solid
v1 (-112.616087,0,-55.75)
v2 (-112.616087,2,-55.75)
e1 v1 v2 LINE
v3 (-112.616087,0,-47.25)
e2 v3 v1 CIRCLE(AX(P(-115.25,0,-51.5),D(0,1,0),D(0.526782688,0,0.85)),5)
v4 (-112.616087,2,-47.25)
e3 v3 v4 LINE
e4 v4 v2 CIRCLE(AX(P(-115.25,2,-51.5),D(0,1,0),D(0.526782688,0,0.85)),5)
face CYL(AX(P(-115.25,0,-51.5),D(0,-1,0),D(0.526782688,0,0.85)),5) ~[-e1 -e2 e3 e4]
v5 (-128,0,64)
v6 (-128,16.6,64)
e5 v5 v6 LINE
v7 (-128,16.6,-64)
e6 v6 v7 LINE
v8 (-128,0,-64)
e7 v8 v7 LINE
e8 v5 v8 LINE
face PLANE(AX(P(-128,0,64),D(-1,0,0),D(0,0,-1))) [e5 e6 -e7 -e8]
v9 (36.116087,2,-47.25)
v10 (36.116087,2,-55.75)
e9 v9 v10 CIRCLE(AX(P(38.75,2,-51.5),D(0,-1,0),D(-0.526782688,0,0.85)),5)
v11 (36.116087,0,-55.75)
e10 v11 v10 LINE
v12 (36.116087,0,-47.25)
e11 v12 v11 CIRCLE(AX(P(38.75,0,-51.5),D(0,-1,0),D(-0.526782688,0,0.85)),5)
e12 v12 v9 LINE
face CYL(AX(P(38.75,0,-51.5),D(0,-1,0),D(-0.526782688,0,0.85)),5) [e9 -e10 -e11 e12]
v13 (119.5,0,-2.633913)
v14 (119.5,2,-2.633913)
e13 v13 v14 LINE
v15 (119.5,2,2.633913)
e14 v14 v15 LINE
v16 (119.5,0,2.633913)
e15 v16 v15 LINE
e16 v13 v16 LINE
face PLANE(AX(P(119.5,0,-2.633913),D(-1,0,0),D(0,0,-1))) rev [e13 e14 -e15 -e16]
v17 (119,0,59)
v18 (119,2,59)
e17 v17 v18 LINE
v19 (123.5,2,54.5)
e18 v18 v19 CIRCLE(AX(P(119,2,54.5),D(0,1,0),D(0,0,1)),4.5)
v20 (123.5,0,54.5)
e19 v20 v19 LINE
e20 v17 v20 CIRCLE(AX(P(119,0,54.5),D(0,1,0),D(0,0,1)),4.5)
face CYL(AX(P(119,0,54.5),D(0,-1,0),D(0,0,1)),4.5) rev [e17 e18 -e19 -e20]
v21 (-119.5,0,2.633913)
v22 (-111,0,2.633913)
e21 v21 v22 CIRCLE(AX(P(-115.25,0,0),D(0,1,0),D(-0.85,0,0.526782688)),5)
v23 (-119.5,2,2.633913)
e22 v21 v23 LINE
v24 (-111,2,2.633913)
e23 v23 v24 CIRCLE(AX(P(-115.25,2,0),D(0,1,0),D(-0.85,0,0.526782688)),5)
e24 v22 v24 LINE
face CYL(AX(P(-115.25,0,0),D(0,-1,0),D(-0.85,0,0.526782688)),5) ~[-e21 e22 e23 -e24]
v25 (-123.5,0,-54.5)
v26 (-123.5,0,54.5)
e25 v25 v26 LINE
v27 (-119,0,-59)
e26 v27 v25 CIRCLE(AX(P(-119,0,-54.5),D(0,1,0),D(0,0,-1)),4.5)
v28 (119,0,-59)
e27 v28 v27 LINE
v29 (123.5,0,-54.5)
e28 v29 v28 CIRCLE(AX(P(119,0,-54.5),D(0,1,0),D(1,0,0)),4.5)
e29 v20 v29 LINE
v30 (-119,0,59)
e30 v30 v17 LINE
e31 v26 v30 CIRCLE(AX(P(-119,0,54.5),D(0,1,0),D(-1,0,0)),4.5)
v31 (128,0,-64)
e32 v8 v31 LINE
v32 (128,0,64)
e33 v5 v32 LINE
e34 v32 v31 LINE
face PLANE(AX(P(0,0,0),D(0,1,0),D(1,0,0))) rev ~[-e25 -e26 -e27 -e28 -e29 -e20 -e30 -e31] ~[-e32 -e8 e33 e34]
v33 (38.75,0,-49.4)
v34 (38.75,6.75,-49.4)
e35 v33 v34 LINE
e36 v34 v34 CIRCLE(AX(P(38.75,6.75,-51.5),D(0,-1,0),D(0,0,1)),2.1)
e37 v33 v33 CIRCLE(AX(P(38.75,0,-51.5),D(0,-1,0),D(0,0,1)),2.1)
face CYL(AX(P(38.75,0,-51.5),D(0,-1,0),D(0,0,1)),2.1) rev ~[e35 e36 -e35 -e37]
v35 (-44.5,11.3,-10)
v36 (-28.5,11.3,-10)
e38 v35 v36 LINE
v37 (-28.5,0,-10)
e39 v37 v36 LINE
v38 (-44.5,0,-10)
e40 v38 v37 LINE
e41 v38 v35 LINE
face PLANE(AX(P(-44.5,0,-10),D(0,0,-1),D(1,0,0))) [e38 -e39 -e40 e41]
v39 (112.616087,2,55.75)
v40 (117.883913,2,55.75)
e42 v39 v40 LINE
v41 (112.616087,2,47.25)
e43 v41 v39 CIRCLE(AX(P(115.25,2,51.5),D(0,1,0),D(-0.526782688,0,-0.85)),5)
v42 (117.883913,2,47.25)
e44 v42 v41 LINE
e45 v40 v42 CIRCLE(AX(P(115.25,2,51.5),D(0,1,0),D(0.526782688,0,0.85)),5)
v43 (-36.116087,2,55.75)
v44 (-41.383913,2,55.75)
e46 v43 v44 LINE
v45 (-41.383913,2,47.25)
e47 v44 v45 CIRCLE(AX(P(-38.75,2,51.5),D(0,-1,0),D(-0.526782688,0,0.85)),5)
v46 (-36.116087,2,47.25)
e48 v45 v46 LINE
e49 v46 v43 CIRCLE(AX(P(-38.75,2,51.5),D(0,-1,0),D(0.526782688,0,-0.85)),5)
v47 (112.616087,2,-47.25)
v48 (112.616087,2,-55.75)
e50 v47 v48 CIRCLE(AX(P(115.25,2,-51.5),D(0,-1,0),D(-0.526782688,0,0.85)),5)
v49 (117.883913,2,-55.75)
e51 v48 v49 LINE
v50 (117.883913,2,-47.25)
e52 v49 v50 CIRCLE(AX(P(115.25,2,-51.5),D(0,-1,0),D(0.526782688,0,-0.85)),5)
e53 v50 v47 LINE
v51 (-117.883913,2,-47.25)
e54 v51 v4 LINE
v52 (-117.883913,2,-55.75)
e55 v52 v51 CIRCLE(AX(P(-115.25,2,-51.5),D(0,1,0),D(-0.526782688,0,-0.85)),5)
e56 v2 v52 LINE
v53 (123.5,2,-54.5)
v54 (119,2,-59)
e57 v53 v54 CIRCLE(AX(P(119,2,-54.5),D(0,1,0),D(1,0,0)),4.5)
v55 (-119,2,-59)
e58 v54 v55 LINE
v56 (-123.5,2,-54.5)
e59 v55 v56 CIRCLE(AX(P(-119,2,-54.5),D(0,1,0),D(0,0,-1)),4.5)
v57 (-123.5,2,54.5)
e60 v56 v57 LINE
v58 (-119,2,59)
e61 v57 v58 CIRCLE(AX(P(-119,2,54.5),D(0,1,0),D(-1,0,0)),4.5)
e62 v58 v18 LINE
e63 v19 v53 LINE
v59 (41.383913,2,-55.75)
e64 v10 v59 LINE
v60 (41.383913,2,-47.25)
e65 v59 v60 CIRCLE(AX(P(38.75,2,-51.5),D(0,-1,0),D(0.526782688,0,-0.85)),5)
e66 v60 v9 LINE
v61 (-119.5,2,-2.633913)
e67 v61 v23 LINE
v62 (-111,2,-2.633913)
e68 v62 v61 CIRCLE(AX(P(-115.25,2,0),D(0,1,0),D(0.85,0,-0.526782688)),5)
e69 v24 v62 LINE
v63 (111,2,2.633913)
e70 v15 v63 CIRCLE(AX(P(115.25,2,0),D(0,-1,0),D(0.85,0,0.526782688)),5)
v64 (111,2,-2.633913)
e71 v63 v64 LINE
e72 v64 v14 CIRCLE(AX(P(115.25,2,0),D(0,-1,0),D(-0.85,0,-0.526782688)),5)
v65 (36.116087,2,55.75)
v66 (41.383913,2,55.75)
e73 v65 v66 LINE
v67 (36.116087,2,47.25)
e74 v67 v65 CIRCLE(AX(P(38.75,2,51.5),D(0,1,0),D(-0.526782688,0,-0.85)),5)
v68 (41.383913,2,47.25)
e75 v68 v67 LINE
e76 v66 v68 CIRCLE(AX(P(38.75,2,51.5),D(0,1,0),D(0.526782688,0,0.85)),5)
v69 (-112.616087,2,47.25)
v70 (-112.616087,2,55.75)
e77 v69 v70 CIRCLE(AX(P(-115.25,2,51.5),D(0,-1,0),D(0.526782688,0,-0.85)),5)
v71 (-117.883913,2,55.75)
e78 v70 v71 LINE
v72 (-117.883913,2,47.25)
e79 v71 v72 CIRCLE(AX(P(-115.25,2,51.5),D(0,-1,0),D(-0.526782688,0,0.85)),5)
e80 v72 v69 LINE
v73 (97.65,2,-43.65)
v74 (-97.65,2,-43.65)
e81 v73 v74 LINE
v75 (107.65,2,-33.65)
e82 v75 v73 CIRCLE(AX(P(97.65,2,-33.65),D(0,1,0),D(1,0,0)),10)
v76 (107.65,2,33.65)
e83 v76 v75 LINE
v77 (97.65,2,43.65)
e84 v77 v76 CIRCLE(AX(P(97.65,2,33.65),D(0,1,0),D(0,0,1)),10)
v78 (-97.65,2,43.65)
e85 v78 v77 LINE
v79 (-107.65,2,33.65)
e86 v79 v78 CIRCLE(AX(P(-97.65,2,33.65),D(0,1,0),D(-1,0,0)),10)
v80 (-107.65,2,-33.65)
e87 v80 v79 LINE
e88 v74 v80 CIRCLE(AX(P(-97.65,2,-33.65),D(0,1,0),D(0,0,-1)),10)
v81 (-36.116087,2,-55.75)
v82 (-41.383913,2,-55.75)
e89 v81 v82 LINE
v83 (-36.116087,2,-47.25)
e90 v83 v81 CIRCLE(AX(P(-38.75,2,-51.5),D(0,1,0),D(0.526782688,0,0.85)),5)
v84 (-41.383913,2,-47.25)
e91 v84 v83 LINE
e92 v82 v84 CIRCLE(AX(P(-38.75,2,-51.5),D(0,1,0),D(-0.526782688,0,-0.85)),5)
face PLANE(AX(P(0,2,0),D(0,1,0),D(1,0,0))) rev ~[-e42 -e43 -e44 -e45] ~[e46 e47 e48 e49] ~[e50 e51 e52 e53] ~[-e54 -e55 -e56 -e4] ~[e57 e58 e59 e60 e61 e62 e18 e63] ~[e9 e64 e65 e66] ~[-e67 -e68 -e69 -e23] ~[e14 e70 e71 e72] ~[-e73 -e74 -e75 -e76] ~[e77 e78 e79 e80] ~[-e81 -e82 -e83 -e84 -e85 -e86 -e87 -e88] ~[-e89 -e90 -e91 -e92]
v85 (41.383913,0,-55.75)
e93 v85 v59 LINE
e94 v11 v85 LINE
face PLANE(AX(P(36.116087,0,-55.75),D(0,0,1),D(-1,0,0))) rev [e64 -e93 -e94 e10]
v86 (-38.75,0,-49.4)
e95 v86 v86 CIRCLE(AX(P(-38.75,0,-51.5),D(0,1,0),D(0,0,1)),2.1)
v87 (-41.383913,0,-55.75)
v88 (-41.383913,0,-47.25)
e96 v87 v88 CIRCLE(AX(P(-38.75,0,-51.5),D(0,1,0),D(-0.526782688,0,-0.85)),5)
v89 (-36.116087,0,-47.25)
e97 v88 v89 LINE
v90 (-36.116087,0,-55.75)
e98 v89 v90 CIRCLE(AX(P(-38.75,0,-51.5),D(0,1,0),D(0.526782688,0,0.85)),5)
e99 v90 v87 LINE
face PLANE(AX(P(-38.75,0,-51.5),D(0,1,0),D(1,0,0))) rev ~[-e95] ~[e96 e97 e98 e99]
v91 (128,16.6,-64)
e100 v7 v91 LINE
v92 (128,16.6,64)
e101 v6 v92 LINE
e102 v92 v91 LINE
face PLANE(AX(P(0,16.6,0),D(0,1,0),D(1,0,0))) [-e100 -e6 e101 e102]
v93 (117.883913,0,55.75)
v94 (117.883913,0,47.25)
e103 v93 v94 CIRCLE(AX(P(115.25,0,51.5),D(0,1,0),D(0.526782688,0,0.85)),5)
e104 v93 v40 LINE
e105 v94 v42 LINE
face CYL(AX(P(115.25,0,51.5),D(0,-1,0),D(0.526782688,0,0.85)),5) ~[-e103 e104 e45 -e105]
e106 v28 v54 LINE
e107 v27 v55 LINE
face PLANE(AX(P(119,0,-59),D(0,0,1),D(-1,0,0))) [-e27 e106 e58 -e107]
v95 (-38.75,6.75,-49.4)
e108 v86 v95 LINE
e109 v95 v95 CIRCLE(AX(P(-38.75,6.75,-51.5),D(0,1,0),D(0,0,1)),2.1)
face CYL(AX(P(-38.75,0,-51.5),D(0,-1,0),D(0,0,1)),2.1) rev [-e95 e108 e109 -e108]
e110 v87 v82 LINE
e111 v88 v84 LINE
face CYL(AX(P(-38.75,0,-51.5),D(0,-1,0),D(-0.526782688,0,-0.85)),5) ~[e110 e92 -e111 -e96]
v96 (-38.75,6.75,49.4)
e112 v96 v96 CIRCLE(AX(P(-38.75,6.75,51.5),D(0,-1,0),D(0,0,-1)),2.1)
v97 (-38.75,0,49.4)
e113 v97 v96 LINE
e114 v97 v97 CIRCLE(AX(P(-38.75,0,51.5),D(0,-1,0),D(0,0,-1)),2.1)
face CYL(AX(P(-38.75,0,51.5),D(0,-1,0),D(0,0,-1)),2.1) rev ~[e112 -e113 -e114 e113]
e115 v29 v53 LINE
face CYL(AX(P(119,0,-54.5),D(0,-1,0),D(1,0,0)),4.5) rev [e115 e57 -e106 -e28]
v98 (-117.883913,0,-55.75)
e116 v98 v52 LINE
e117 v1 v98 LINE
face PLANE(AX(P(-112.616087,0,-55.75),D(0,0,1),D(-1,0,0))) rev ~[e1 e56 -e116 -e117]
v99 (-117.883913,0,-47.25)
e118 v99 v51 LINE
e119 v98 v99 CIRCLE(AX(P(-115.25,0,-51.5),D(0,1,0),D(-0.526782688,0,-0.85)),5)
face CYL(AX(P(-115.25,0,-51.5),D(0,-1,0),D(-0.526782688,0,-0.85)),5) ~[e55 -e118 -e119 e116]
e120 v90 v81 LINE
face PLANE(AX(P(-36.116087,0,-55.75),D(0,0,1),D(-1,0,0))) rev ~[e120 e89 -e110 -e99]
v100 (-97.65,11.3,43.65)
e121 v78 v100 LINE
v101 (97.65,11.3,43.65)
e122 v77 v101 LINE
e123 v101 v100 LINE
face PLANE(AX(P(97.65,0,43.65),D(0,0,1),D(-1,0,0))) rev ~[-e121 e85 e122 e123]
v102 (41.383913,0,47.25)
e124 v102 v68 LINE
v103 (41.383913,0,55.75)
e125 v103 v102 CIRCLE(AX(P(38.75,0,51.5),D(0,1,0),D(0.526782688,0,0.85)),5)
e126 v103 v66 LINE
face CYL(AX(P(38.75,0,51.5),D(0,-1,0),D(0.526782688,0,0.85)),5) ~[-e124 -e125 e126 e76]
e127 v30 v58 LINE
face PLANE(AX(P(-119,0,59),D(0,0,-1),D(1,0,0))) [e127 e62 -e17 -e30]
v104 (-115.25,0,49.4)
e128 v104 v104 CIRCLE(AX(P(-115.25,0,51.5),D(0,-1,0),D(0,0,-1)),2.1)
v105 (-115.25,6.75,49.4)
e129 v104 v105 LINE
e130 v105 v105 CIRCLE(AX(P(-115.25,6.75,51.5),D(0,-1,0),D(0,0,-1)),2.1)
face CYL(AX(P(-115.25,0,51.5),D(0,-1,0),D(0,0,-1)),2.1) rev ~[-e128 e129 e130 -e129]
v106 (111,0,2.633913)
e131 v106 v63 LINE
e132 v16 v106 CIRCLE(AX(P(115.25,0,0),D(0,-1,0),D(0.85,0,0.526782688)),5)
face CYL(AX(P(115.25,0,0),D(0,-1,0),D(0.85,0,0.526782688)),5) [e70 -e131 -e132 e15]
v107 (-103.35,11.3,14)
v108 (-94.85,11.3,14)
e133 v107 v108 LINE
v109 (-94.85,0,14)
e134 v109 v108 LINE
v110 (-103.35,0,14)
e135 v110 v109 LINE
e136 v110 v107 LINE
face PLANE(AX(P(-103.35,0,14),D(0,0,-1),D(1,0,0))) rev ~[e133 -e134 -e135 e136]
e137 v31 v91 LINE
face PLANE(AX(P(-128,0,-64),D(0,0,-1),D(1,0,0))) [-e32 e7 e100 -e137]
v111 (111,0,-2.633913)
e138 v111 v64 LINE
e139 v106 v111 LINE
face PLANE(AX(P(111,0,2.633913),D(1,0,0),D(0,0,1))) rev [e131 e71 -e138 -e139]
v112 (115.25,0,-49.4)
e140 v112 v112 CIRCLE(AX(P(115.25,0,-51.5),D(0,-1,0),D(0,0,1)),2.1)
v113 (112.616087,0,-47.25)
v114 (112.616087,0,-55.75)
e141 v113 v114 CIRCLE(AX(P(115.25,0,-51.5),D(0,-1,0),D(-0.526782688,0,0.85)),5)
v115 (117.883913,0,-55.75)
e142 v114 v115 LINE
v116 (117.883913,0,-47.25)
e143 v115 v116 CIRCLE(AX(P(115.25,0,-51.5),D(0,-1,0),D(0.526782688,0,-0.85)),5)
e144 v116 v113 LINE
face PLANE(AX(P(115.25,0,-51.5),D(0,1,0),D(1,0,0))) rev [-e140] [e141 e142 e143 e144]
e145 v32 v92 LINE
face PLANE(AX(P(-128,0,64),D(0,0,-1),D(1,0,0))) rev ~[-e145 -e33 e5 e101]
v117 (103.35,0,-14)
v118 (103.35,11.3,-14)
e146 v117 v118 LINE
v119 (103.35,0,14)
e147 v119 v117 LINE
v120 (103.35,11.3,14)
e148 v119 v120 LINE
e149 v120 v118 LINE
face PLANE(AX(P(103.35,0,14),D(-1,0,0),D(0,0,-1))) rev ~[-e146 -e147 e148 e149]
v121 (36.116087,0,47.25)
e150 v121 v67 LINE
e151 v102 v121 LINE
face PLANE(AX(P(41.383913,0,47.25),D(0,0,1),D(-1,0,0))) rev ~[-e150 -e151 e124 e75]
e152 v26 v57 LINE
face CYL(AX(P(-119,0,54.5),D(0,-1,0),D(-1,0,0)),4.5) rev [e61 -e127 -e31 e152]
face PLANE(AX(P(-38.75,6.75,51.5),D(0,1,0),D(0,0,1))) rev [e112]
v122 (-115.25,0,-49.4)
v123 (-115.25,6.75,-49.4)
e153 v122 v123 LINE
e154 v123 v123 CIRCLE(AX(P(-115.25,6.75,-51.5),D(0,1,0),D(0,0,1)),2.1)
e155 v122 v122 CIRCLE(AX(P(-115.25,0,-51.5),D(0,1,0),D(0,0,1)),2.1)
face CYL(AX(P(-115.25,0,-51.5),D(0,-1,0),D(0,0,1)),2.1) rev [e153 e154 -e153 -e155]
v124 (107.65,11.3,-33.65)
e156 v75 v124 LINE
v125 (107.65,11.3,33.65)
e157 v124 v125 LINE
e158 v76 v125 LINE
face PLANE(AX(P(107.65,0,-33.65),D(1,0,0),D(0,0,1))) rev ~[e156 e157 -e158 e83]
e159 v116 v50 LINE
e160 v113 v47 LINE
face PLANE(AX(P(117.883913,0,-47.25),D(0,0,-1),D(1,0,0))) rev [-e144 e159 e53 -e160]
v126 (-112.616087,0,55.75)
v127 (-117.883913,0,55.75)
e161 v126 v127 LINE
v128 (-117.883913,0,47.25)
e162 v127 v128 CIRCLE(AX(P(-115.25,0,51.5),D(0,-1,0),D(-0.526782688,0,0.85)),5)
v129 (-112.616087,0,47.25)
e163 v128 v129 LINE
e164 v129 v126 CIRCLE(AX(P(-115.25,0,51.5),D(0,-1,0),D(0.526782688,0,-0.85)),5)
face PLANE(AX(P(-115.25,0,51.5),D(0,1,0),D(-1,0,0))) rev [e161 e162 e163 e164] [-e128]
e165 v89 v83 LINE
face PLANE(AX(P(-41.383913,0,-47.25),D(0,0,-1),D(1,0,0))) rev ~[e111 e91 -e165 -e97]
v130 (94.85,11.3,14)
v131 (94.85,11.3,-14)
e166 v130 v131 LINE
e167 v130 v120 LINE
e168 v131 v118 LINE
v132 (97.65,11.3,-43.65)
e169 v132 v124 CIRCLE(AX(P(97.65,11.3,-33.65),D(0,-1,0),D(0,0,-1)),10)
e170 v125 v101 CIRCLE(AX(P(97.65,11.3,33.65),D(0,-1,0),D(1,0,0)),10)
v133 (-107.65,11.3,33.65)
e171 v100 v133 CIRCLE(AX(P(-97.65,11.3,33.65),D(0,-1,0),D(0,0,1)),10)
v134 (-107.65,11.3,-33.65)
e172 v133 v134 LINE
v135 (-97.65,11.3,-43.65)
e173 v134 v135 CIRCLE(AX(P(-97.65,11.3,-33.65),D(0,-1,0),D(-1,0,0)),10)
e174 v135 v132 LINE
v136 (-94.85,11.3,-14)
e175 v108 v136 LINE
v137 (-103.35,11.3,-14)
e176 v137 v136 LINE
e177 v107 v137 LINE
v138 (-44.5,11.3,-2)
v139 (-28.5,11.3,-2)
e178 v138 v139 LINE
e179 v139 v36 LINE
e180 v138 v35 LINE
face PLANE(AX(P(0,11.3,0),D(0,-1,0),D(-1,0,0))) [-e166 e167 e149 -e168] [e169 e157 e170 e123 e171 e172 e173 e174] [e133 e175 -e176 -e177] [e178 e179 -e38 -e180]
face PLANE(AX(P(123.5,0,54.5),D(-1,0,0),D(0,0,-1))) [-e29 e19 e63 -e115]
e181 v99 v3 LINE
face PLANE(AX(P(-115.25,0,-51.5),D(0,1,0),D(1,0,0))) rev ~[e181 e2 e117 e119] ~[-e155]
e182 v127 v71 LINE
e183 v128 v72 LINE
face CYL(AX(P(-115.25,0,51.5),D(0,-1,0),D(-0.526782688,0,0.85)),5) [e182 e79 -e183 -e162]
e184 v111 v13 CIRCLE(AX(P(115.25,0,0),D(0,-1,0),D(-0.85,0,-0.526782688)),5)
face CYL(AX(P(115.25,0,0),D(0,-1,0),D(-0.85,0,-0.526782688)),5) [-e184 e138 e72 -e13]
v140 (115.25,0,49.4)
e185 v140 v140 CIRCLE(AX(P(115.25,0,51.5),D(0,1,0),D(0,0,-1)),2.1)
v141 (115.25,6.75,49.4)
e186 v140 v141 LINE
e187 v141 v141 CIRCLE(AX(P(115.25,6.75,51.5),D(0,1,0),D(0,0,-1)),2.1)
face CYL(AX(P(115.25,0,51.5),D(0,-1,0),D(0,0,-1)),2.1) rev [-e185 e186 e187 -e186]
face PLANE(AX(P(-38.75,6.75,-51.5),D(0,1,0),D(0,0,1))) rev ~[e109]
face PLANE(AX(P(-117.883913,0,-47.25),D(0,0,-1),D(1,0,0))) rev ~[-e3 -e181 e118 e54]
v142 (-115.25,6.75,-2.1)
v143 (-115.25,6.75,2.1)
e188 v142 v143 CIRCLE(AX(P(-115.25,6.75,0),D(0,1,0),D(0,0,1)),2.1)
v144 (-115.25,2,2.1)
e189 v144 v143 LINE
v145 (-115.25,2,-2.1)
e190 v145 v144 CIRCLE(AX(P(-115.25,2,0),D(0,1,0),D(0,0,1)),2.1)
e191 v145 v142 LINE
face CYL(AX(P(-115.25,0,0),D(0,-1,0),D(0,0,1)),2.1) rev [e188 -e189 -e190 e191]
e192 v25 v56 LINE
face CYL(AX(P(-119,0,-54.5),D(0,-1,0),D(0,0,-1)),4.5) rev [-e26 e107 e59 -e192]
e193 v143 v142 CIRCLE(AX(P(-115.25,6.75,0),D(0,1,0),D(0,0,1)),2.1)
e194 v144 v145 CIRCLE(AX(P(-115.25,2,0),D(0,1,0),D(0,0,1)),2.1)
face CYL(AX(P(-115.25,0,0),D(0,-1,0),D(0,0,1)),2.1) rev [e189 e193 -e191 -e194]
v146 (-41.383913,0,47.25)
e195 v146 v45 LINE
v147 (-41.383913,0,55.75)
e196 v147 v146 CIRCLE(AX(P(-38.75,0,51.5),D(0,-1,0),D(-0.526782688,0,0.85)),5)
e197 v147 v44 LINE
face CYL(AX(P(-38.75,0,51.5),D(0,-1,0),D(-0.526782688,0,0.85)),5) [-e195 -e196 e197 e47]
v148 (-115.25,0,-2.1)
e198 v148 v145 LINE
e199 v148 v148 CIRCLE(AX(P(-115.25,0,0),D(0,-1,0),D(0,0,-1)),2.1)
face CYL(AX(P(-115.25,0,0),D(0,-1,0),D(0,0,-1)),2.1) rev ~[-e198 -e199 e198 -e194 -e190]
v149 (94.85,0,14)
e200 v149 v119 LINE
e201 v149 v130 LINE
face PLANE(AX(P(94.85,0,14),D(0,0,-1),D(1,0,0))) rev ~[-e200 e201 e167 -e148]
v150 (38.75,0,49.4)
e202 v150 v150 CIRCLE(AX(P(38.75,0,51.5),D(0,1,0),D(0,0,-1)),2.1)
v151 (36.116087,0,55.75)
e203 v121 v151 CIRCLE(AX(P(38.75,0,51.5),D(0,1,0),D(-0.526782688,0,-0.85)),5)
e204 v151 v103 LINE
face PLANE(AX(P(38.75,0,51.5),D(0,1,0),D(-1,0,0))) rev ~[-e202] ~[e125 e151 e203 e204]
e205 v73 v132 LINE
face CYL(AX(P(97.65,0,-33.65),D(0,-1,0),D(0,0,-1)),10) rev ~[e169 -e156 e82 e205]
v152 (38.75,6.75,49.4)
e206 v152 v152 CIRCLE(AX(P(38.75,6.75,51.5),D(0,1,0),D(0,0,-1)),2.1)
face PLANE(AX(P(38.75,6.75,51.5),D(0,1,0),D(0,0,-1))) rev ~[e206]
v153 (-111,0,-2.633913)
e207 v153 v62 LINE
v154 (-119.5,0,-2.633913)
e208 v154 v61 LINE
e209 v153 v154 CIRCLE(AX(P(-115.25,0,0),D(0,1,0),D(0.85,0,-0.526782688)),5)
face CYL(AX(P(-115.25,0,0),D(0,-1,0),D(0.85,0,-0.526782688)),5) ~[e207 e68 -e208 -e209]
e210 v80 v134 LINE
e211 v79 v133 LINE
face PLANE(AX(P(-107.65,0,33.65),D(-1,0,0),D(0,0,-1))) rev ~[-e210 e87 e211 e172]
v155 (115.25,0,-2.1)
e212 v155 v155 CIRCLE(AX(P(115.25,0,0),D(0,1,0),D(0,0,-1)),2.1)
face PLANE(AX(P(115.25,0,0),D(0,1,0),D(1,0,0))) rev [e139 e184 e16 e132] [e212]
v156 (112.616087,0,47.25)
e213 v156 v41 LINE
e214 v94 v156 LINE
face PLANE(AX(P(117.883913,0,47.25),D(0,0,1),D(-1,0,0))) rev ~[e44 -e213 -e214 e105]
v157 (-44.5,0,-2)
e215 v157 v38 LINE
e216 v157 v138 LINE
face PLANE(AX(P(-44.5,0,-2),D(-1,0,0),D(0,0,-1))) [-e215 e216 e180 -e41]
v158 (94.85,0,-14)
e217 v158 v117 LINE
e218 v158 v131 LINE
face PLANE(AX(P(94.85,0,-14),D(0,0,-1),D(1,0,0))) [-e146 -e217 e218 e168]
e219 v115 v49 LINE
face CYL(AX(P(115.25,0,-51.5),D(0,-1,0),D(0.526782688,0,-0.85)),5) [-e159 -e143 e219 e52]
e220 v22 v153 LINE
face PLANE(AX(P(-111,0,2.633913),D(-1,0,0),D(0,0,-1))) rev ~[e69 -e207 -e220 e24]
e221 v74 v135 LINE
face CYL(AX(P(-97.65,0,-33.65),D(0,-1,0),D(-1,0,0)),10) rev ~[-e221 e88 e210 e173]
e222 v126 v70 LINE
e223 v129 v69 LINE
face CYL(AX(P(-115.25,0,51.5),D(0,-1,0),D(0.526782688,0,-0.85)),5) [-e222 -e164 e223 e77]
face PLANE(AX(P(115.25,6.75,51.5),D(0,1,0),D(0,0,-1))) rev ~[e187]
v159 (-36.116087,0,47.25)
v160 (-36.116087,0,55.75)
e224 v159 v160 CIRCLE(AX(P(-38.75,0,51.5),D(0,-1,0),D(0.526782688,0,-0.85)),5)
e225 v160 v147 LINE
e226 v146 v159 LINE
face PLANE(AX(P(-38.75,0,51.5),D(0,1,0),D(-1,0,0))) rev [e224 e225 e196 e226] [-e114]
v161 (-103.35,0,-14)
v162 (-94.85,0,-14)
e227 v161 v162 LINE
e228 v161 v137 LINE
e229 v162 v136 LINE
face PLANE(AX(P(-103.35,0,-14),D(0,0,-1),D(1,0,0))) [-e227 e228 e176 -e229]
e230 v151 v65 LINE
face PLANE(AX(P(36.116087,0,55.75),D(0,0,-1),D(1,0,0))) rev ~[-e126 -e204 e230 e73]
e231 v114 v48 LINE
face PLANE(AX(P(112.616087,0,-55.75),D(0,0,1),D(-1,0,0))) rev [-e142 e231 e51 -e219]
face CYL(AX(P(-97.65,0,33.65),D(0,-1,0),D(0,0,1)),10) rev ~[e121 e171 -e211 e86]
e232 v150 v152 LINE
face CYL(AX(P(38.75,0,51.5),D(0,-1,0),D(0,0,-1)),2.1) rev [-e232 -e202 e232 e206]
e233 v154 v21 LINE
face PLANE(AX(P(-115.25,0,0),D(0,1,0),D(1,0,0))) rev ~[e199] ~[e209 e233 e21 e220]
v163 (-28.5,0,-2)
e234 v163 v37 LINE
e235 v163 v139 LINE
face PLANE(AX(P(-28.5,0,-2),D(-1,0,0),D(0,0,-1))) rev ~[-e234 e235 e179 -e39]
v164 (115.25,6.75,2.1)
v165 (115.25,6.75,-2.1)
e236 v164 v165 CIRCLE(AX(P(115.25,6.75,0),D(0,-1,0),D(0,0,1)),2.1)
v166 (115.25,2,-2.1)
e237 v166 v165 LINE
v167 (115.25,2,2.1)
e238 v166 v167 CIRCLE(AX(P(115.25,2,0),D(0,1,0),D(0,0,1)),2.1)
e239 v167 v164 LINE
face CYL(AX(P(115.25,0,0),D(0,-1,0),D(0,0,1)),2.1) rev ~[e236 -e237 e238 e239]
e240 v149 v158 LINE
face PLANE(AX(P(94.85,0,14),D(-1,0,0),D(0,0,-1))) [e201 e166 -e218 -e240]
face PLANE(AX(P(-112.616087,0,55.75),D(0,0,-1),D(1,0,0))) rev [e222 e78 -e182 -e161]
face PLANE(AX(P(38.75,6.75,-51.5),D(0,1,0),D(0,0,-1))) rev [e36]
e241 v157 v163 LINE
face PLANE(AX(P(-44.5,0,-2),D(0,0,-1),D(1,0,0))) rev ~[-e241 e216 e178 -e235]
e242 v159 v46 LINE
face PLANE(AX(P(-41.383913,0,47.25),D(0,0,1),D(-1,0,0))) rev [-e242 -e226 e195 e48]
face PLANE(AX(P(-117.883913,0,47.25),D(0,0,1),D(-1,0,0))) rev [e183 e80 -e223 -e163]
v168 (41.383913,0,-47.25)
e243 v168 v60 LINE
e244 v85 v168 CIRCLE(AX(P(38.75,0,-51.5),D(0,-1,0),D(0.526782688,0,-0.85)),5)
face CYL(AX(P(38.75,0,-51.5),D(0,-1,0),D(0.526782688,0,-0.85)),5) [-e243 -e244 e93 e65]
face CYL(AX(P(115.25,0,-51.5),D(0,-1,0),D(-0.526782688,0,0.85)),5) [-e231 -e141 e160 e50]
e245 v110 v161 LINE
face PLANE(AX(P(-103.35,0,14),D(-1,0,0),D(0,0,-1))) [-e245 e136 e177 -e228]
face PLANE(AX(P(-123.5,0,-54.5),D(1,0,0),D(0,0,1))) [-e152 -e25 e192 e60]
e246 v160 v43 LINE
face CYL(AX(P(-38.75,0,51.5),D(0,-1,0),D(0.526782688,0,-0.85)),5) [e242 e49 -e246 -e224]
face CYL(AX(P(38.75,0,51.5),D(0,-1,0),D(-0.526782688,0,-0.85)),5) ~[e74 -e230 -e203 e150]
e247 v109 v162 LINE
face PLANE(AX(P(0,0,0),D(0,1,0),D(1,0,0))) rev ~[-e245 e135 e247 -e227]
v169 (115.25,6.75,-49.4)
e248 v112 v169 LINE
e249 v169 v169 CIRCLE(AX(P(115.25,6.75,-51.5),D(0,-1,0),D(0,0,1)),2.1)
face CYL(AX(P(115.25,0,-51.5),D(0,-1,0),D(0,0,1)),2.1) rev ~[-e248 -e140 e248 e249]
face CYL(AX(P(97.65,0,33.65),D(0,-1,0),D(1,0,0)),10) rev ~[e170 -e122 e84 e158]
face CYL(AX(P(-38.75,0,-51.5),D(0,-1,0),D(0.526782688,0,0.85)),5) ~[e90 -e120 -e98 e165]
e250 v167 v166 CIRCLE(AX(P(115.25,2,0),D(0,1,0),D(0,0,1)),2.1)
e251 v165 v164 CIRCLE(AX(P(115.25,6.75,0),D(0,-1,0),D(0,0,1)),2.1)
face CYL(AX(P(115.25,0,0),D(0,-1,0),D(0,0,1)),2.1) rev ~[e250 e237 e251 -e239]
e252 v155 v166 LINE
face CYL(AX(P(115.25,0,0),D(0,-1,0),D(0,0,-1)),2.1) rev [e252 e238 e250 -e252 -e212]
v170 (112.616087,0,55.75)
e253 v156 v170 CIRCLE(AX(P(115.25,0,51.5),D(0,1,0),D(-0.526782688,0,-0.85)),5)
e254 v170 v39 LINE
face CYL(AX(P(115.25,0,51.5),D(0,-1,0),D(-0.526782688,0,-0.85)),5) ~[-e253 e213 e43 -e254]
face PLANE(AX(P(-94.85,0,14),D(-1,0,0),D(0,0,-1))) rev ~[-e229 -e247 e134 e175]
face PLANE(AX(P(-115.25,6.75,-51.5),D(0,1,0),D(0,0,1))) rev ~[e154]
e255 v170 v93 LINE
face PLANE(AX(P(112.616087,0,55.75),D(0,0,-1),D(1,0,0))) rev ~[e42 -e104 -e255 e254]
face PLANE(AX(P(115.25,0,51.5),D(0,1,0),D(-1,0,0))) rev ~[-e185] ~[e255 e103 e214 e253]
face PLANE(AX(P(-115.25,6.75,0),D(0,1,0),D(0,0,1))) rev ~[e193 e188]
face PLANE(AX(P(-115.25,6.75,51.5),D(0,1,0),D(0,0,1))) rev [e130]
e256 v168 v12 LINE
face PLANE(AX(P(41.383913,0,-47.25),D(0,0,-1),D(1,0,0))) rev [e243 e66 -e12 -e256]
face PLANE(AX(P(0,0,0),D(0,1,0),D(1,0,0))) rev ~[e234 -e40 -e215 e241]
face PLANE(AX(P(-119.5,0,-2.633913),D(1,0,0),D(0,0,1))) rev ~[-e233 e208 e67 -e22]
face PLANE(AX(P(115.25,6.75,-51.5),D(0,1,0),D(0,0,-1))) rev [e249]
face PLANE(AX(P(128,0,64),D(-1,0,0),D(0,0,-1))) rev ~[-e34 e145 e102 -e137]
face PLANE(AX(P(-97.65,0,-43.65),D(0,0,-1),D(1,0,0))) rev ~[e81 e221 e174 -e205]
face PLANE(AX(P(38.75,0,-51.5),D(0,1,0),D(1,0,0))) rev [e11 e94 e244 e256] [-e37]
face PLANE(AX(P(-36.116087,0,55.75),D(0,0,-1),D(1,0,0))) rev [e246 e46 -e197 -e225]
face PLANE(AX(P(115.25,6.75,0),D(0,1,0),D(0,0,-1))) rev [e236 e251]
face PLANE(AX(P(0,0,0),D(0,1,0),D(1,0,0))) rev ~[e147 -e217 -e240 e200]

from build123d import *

# Parameters (mm, degrees)
SKETCH1_W                                  = 256
SKETCH1_H                                  = 128
SKETCH1_W_2                                = 16
SKETCH1_H_2                                = 8
SKETCH1_W_3                                = 8.5
SKETCH1_H_3                                = 28
SKETCH1_R                                  = 2.1
BOSS_EXTRUDE1_DEPTH                        = 16.6
SKETCH1_3_W                                = 8.5
SKETCH1_3_H                                = 28
SKETCH1_3_W_2                              = 16
SKETCH1_3_H_2                              = 8
CUT_EXTRUDE1_DEPTH                         = 11.3
SKETCH1_4_R                                = 2.1
CUT_EXTRUDE2_DEPTH                         = 2
SKETCH1_5_R                                = 2.1
BOSS_EXTRUDE2_DEPTH                        = 2
SKETCH1_6_R                                = 2.1
CUT_EXTRUDE3_DEPTH                         = 6.75
MIRROR1_AT_THE_SECOND_PLANE_COPY_1_SKETC_R = 2.1
MIRROR1_AT_THE_SECOND_PLANE_COPY_1_DEPTH   = 2
MIRROR1_AT_THE_SECOND_PLANE_COPY_2_SKETC_R = 2.1
MIRROR1_AT_THE_SECOND_PLANE_COPY_2_DEPTH   = 6.75


with BuildPart() as part:
    # Sketch1 → Boss-Extrude1 (new body)
    # profile 1 of 12: a face of its own
    with BuildSketch(Plane(origin=(0, 0, 0), x_dir=(1, 0, 0), z_dir=(0, 1, 0))):
        Rectangle(SKETCH1_W, SKETCH1_H)
        with BuildLine():
            ThreePointArc((-119, 59), (-122.181980515, 57.681980515), (-123.5, 54.5))
            Line((-123.5, 54.5), (-123.5, -54.5))
            ThreePointArc((-123.5, -54.5), (-122.181980515, -57.681980515), (-119, -59))
            Line((-119, -59), (119, -59))
            ThreePointArc((119, -59), (122.181980515, -57.681980515), (123.5, -54.5))
            Line((123.5, -54.5), (123.5, 54.5))
            ThreePointArc((123.5, 54.5), (122.181980515, 57.681980515), (119, 59))
            Line((119, 59), (-119, 59))
        make_face(mode=Mode.SUBTRACT)
    # profile 2 of 12: a face of its own
    with BuildSketch(Plane(origin=(0, 0, 0), x_dir=(1, 0, 0), z_dir=(0, 1, 0))):
        with BuildLine():
            Line((119, 59), (-119, 59))
            ThreePointArc((-119, 59), (-122.181980515, 57.681980515), (-123.5, 54.5))
            Line((-123.5, 54.5), (-123.5, -54.5))
            ThreePointArc((-123.5, -54.5), (-122.181980515, -57.681980515), (-119, -59))
            Line((-119, -59), (119, -59))
            ThreePointArc((119, -59), (122.181980515, -57.681980515), (123.5, -54.5))
            Line((123.5, -54.5), (123.5, 54.5))
            ThreePointArc((123.5, 54.5), (122.181980515, 57.681980515), (119, 59))
        make_face()
        with BuildLine():
            ThreePointArc((-112.616086562, 47.25), (-110.25, 51.5), (-112.616086562, 55.75))
            Line((-112.616086562, 55.75), (-117.883913438, 55.75))
            ThreePointArc((-117.883913438, 55.75), (-120.25, 51.5), (-117.883913438, 47.25))
            Line((-117.883913438, 47.25), (-112.616086562, 47.25))
        make_face(mode=Mode.SUBTRACT)
        with BuildLine():
            ThreePointArc((-111, 2.633913438), (-115.25, 5), (-119.5, 2.633913438))
            Line((-119.5, 2.633913438), (-119.5, -2.633913438))
            ThreePointArc((-119.5, -2.633913438), (-115.25, -5), (-111, -2.633913438))
            Line((-111, -2.633913438), (-111, 2.633913438))
        make_face(mode=Mode.SUBTRACT)
        with BuildLine():
            ThreePointArc((-36.116086562, 47.25), (-33.75, 51.5), (-36.116086562, 55.75))
            Line((-36.116086562, 55.75), (-41.383913438, 55.75))
            ThreePointArc((-41.383913438, 55.75), (-43.75, 51.5), (-41.383913438, 47.25))
            Line((-41.383913438, 47.25), (-36.116086562, 47.25))
        make_face(mode=Mode.SUBTRACT)
        with BuildLine():
            ThreePointArc((-97.65, 43.65), (-104.721067812, 40.721067812), (-107.65, 33.65))
            Line((-107.65, 33.65), (-107.65, -33.65))
            ThreePointArc((-107.65, -33.65), (-104.721067812, -40.721067812), (-97.65, -43.65))
            Line((-97.65, -43.65), (97.65, -43.65))
            ThreePointArc((97.65, -43.65), (104.721067812, -40.721067812), (107.65, -33.65))
            Line((107.65, -33.65), (107.65, 33.65))
            ThreePointArc((107.65, 33.65), (104.721067812, 40.721067812), (97.65, 43.65))
            Line((97.65, 43.65), (-97.65, 43.65))
        make_face(mode=Mode.SUBTRACT)
    # profile 3 of 12: a face of its own
    with BuildSketch(Plane(origin=(0, 0, 0), x_dir=(1, 0, 0), z_dir=(0, 1, 0))):
        with BuildLine():
            Line((97.65, 43.65), (-97.65, 43.65))
            ThreePointArc((-97.65, 43.65), (-104.721067812, 40.721067812), (-107.65, 33.65))
            Line((-107.65, 33.65), (-107.65, -33.65))
            ThreePointArc((-107.65, -33.65), (-104.721067812, -40.721067812), (-97.65, -43.65))
            Line((-97.65, -43.65), (97.65, -43.65))
            ThreePointArc((97.65, -43.65), (104.721067812, -40.721067812), (107.65, -33.65))
            Line((107.65, -33.65), (107.65, 33.65))
            ThreePointArc((107.65, 33.65), (104.721067812, 40.721067812), (97.65, 43.65))
        make_face()
        with Locations((-36.5, 6)):
            Rectangle(SKETCH1_W_2, SKETCH1_H_2, mode=Mode.SUBTRACT)
        with Locations((-99.1, 0)):
            Rectangle(SKETCH1_W_3, SKETCH1_H_3, mode=Mode.SUBTRACT)
    # profile 4 of 12: a face of its own
    with BuildSketch(Plane(origin=(0, 0, 0), x_dir=(1, 0, 0), z_dir=(0, 1, 0))):
        with Locations((-99.1, 0)):
            Rectangle(SKETCH1_W_3, SKETCH1_H_3)
    # profile 5 of 12: a face of its own
    with BuildSketch(Plane(origin=(0, 0, 0), x_dir=(1, 0, 0), z_dir=(0, 1, 0))):
        with Locations((-36.5, 6)):
            Rectangle(SKETCH1_W_2, SKETCH1_H_2)
    # profile 6 of 12: a face of its own
    with BuildSketch(Plane(origin=(0, 0, 0), x_dir=(1, 0, 0), z_dir=(0, 1, 0))):
        with BuildLine():
            Line((-41.383913438, 47.25), (-36.116086562, 47.25))
            ThreePointArc((-36.116086562, 47.25), (-33.75, 51.5), (-36.116086562, 55.75))
            Line((-36.116086562, 55.75), (-41.383913438, 55.75))
            ThreePointArc((-41.383913438, 55.75), (-43.75, 51.5), (-41.383913438, 47.25))
        make_face()
        with Locations((-38.75, 51.5)):
            Circle(SKETCH1_R, mode=Mode.SUBTRACT)
    # profile 7 of 12: a face of its own
    with BuildSketch(Plane(origin=(0, 0, 0), x_dir=(1, 0, 0), z_dir=(0, 1, 0))):
        with Locations((-38.75, 51.5)):
            Circle(SKETCH1_R)
    # profile 8 of 12: a face of its own
    with BuildSketch(Plane(origin=(0, 0, 0), x_dir=(1, 0, 0), z_dir=(0, 1, 0))):
        with BuildLine():
            Line((-111, -2.633913438), (-111, 2.633913438))
            ThreePointArc((-111, 2.633913438), (-115.25, 5), (-119.5, 2.633913438))
            Line((-119.5, 2.633913438), (-119.5, -2.633913438))
            ThreePointArc((-119.5, -2.633913438), (-115.25, -5), (-111, -2.633913438))
        make_face()
        with Locations((-115.25, 0)):
            Circle(SKETCH1_R, mode=Mode.SUBTRACT)
    # profile 9 of 12: a face of its own
    with BuildSketch(Plane(origin=(0, 0, 0), x_dir=(1, 0, 0), z_dir=(0, 1, 0))):
        with Locations((-115.25, 0)):
            Circle(SKETCH1_R)
    # profile 10 of 12: a face of its own
    with BuildSketch(Plane(origin=(0, 0, 0), x_dir=(1, 0, 0), z_dir=(0, 1, 0))):
        with BuildLine():
            Line((-117.883913438, 47.25), (-112.616086562, 47.25))
            ThreePointArc((-112.616086562, 47.25), (-110.25, 51.5), (-112.616086562, 55.75))
            Line((-112.616086562, 55.75), (-117.883913438, 55.75))
            ThreePointArc((-117.883913438, 55.75), (-120.25, 51.5), (-117.883913438, 47.25))
        make_face()
        with Locations((-115.25, 51.5)):
            Circle(SKETCH1_R, mode=Mode.SUBTRACT)
    # profile 11 of 12: a face of its own
    with BuildSketch(Plane(origin=(0, 0, 0), x_dir=(1, 0, 0), z_dir=(0, 1, 0))):
        with Locations((-115.25, 51.5)):
            Circle(SKETCH1_R)
    # profile 12 of 12: a face of its own
    with BuildSketch(Plane(origin=(0, 0, 0), x_dir=(1, 0, 0), z_dir=(0, 1, 0))):
        with Locations((99.1, 0)):
            Rectangle(SKETCH1_W_3, SKETCH1_H_3)
    extrude(amount=BOSS_EXTRUDE1_DEPTH)

    # Sketch1<3> → Cut-Extrude1 (cut)
    with BuildSketch(Plane(origin=(0, 0, 0), x_dir=(1, 0, 0), z_dir=(0, 1, 0))):
        with BuildLine():
            Line((97.65, -43.65), (-97.65, -43.65))
            ThreePointArc((-97.65, -43.65), (-104.721067812, -40.721067812), (-107.65, -33.65))
            Line((-107.65, -33.65), (-107.65, 33.65))
            ThreePointArc((-107.65, 33.65), (-104.721067812, 40.721067812), (-97.65, 43.65))
            Line((-97.65, 43.65), (97.65, 43.65))
            ThreePointArc((97.65, 43.65), (104.721067812, 40.721067812), (107.65, 33.65))
            Line((107.65, 33.65), (107.65, -33.65))
            ThreePointArc((107.65, -33.65), (104.721067812, -40.721067812), (97.65, -43.65))
        make_face()
        with Locations((99.1, 0)):
            Rectangle(SKETCH1_3_W, SKETCH1_3_H, mode=Mode.SUBTRACT)
        with Locations((-99.1, 0)):
            Rectangle(SKETCH1_3_W, SKETCH1_3_H, mode=Mode.SUBTRACT)
        with Locations((-36.5, 6)):
            Rectangle(SKETCH1_3_W_2, SKETCH1_3_H_2, mode=Mode.SUBTRACT)
    extrude(amount=CUT_EXTRUDE1_DEPTH, mode=Mode.SUBTRACT)

    # Sketch1<4> → Cut-Extrude2 (cut)
    # profile 1 of 7: a face of its own
    with BuildSketch(Plane(origin=(0, 0, 0), x_dir=(1, 0, 0), z_dir=(0, 1, 0))):
        with BuildLine():
            Line((119, 59), (-119, 59))
            ThreePointArc((-119, 59), (-122.181980515, 57.681980515), (-123.5, 54.5))
            Line((-123.5, 54.5), (-123.5, -54.5))
            ThreePointArc((-123.5, -54.5), (-122.181980515, -57.681980515), (-119, -59))
            Line((-119, -59), (119, -59))
            ThreePointArc((119, -59), (122.181980515, -57.681980515), (123.5, -54.5))
            Line((123.5, -54.5), (123.5, 54.5))
            ThreePointArc((123.5, 54.5), (122.181980515, 57.681980515), (119, 59))
        make_face()
        with BuildLine():
            ThreePointArc((-112.616086562, 47.25), (-110.25, 51.5), (-112.616086562, 55.75))
            Line((-112.616086562, 55.75), (-117.883913438, 55.75))
            ThreePointArc((-117.883913438, 55.75), (-120.25, 51.5), (-117.883913438, 47.25))
            Line((-117.883913438, 47.25), (-112.616086562, 47.25))
        make_face(mode=Mode.SUBTRACT)
        with BuildLine():
            ThreePointArc((-111, 2.633913438), (-115.25, 5), (-119.5, 2.633913438))
            Line((-119.5, 2.633913438), (-119.5, -2.633913438))
            ThreePointArc((-119.5, -2.633913438), (-115.25, -5), (-111, -2.633913438))
            Line((-111, -2.633913438), (-111, 2.633913438))
        make_face(mode=Mode.SUBTRACT)
        with BuildLine():
            ThreePointArc((-36.116086562, 47.25), (-33.75, 51.5), (-36.116086562, 55.75))
            Line((-36.116086562, 55.75), (-41.383913438, 55.75))
            ThreePointArc((-41.383913438, 55.75), (-43.75, 51.5), (-41.383913438, 47.25))
            Line((-41.383913438, 47.25), (-36.116086562, 47.25))
        make_face(mode=Mode.SUBTRACT)
        with BuildLine():
            ThreePointArc((-97.65, 43.65), (-104.721067812, 40.721067812), (-107.65, 33.65))
            Line((-107.65, 33.65), (-107.65, -33.65))
            ThreePointArc((-107.65, -33.65), (-104.721067812, -40.721067812), (-97.65, -43.65))
            Line((-97.65, -43.65), (97.65, -43.65))
            ThreePointArc((97.65, -43.65), (104.721067812, -40.721067812), (107.65, -33.65))
            Line((107.65, -33.65), (107.65, 33.65))
            ThreePointArc((107.65, 33.65), (104.721067812, 40.721067812), (97.65, 43.65))
            Line((97.65, 43.65), (-97.65, 43.65))
        make_face(mode=Mode.SUBTRACT)
    # profile 2 of 7: a face of its own
    with BuildSketch(Plane(origin=(0, 0, 0), x_dir=(1, 0, 0), z_dir=(0, 1, 0))):
        with BuildLine():
            Line((-111, -2.633913438), (-111, 2.633913438))
            ThreePointArc((-111, 2.633913438), (-115.25, 5), (-119.5, 2.633913438))
            Line((-119.5, 2.633913438), (-119.5, -2.633913438))
            ThreePointArc((-119.5, -2.633913438), (-115.25, -5), (-111, -2.633913438))
        make_face()
        with Locations((-115.25, 0)):
            Circle(SKETCH1_4_R, mode=Mode.SUBTRACT)
    # profile 3 of 7: a face of its own
    with BuildSketch(Plane(origin=(0, 0, 0), x_dir=(1, 0, 0), z_dir=(0, 1, 0))):
        with Locations((-115.25, 0)):
            Circle(SKETCH1_4_R)
    # profile 4 of 7: a face of its own
    with BuildSketch(Plane(origin=(0, 0, 0), x_dir=(1, 0, 0), z_dir=(0, 1, 0))):
        with BuildLine():
            Line((-117.883913438, 47.25), (-112.616086562, 47.25))
            ThreePointArc((-112.616086562, 47.25), (-110.25, 51.5), (-112.616086562, 55.75))
            Line((-112.616086562, 55.75), (-117.883913438, 55.75))
            ThreePointArc((-117.883913438, 55.75), (-120.25, 51.5), (-117.883913438, 47.25))
        make_face()
        with Locations((-115.25, 51.5)):
            Circle(SKETCH1_4_R, mode=Mode.SUBTRACT)
    # profile 5 of 7: a face of its own
    with BuildSketch(Plane(origin=(0, 0, 0), x_dir=(1, 0, 0), z_dir=(0, 1, 0))):
        with Locations((-115.25, 51.5)):
            Circle(SKETCH1_4_R)
    # profile 6 of 7: a face of its own
    with BuildSketch(Plane(origin=(0, 0, 0), x_dir=(1, 0, 0), z_dir=(0, 1, 0))):
        with BuildLine():
            Line((-41.383913438, 47.25), (-36.116086562, 47.25))
            ThreePointArc((-36.116086562, 47.25), (-33.75, 51.5), (-36.116086562, 55.75))
            Line((-36.116086562, 55.75), (-41.383913438, 55.75))
            ThreePointArc((-41.383913438, 55.75), (-43.75, 51.5), (-41.383913438, 47.25))
        make_face()
        with Locations((-38.75, 51.5)):
            Circle(SKETCH1_4_R, mode=Mode.SUBTRACT)
    # profile 7 of 7: a face of its own
    with BuildSketch(Plane(origin=(0, 0, 0), x_dir=(1, 0, 0), z_dir=(0, 1, 0))):
        with Locations((-38.75, 51.5)):
            Circle(SKETCH1_4_R)
    extrude(amount=CUT_EXTRUDE2_DEPTH, mode=Mode.SUBTRACT)

    # Sketch1<5> → Boss-Extrude2 (add)
    # profile 1 of 6: a face of its own
    with BuildSketch(Plane(origin=(0, 0, 0), x_dir=(1, 0, 0), z_dir=(0, 1, 0))):
        with BuildLine():
            Line((-111, -2.633913438), (-111, 2.633913438))
            ThreePointArc((-111, 2.633913438), (-115.25, 5), (-119.5, 2.633913438))
            Line((-119.5, 2.633913438), (-119.5, -2.633913438))
            ThreePointArc((-119.5, -2.633913438), (-115.25, -5), (-111, -2.633913438))
        make_face()
        with Locations((-115.25, 0)):
            Circle(SKETCH1_5_R, mode=Mode.SUBTRACT)
    # profile 2 of 6: a face of its own
    with BuildSketch(Plane(origin=(0, 0, 0), x_dir=(1, 0, 0), z_dir=(0, 1, 0))):
        with BuildLine():
            Line((-117.883913438, 47.25), (-112.616086562, 47.25))
            ThreePointArc((-112.616086562, 47.25), (-110.25, 51.5), (-112.616086562, 55.75))
            Line((-112.616086562, 55.75), (-117.883913438, 55.75))
            ThreePointArc((-117.883913438, 55.75), (-120.25, 51.5), (-117.883913438, 47.25))
        make_face()
        with Locations((-115.25, 51.5)):
            Circle(SKETCH1_5_R, mode=Mode.SUBTRACT)
    # profile 3 of 6: a face of its own
    with BuildSketch(Plane(origin=(0, 0, 0), x_dir=(1, 0, 0), z_dir=(0, 1, 0))):
        with Locations((-115.25, 0)):
            Circle(SKETCH1_5_R)
    # profile 4 of 6: a face of its own
    with BuildSketch(Plane(origin=(0, 0, 0), x_dir=(1, 0, 0), z_dir=(0, 1, 0))):
        with Locations((-115.25, 51.5)):
            Circle(SKETCH1_5_R)
    # profile 5 of 6: a face of its own
    with BuildSketch(Plane(origin=(0, 0, 0), x_dir=(1, 0, 0), z_dir=(0, 1, 0))):
        with BuildLine():
            Line((-41.383913438, 47.25), (-36.116086562, 47.25))
            ThreePointArc((-36.116086562, 47.25), (-33.75, 51.5), (-36.116086562, 55.75))
            Line((-36.116086562, 55.75), (-41.383913438, 55.75))
            ThreePointArc((-41.383913438, 55.75), (-43.75, 51.5), (-41.383913438, 47.25))
        make_face()
        with Locations((-38.75, 51.5)):
            Circle(SKETCH1_5_R, mode=Mode.SUBTRACT)
    # profile 6 of 6: a face of its own
    with BuildSketch(Plane(origin=(0, 0, 0), x_dir=(1, 0, 0), z_dir=(0, 1, 0))):
        with Locations((-38.75, 51.5)):
            Circle(SKETCH1_5_R)
    boss_extrude2 = extrude(amount=BOSS_EXTRUDE2_DEPTH)

    # Sketch1<6> → Cut-Extrude3 (cut)
    with BuildSketch(Plane(origin=(0, 0, 0), x_dir=(1, 0, 0), z_dir=(0, 1, 0))):
        with Locations(Location((-115.25, 0, 0), (0, 0, 270))):
            Circle(SKETCH1_6_R)
        with Locations(Location((-115.25, 51.5, 0), (0, 0, 270))):
            Circle(SKETCH1_6_R)
        with Locations(Location((-38.75, 51.5, 0), (0, 0, 270))):
            Circle(SKETCH1_6_R)
    cut_extrude3 = extrude(amount=CUT_EXTRUDE3_DEPTH, mode=Mode.SUBTRACT)

    # Mirror1: Boss-Extrude2, Cut-Extrude3 across plane
    add(boss_extrude2.mirror(Plane.XY))
    add(cut_extrude3.mirror(Plane.XY), mode=Mode.SUBTRACT)

    # Mirror1 at the second plane: Boss-Extrude2, Cut-Extrude3 across plane
    add(boss_extrude2.mirror(Plane(origin=(0, 0, 0), x_dir=(0, 0, 1), z_dir=(1, 0, 0))))
    add(cut_extrude3.mirror(Plane(origin=(0, 0, 0), x_dir=(0, 0, 1), z_dir=(1, 0, 0))), mode=Mode.SUBTRACT)

    # Mirror1 at the second plane copy 1 sketc → Mirror1 at the second plane copy 1 (add)
    # profile 1 of 6: a face of its own
    with BuildSketch(Plane(origin=(0, 0, 0), x_dir=(-1, 0, 0), z_dir=(0, 1, 0))):
        with BuildLine():
            Line((-111, -2.633913438), (-111, 2.633913438))
            ThreePointArc((-111, 2.633913438), (-115.25, 5), (-119.5, 2.633913438))
            Line((-119.5, 2.633913438), (-119.5, -2.633913438))
            ThreePointArc((-119.5, -2.633913438), (-115.25, -5), (-111, -2.633913438))
        make_face()
        with Locations((-115.25, 0)):
            Circle(MIRROR1_AT_THE_SECOND_PLANE_COPY_1_SKETC_R, mode=Mode.SUBTRACT)
    # profile 2 of 6: a face of its own
    with BuildSketch(Plane(origin=(0, 0, 0), x_dir=(-1, 0, 0), z_dir=(0, 1, 0))):
        with BuildLine():
            Line((-117.883913438, 47.25), (-112.616086562, 47.25))
            ThreePointArc((-112.616086562, 47.25), (-110.25, 51.5), (-112.616086562, 55.75))
            Line((-112.616086562, 55.75), (-117.883913438, 55.75))
            ThreePointArc((-117.883913438, 55.75), (-120.25, 51.5), (-117.883913438, 47.25))
        make_face()
        with Locations((-115.25, 51.5)):
            Circle(MIRROR1_AT_THE_SECOND_PLANE_COPY_1_SKETC_R, mode=Mode.SUBTRACT)
    # profile 3 of 6: a face of its own
    with BuildSketch(Plane(origin=(0, 0, 0), x_dir=(-1, 0, 0), z_dir=(0, 1, 0))):
        with Locations((-115.25, 0)):
            Circle(MIRROR1_AT_THE_SECOND_PLANE_COPY_1_SKETC_R)
    # profile 4 of 6: a face of its own
    with BuildSketch(Plane(origin=(0, 0, 0), x_dir=(-1, 0, 0), z_dir=(0, 1, 0))):
        with Locations((-115.25, 51.5)):
            Circle(MIRROR1_AT_THE_SECOND_PLANE_COPY_1_SKETC_R)
    # profile 5 of 6: a face of its own
    with BuildSketch(Plane(origin=(0, 0, 0), x_dir=(-1, 0, 0), z_dir=(0, 1, 0))):
        with BuildLine():
            Line((-41.383913438, 47.25), (-36.116086562, 47.25))
            ThreePointArc((-36.116086562, 47.25), (-33.75, 51.5), (-36.116086562, 55.75))
            Line((-36.116086562, 55.75), (-41.383913438, 55.75))
            ThreePointArc((-41.383913438, 55.75), (-43.75, 51.5), (-41.383913438, 47.25))
        make_face()
        with Locations((-38.75, 51.5)):
            Circle(MIRROR1_AT_THE_SECOND_PLANE_COPY_1_SKETC_R, mode=Mode.SUBTRACT)
    # profile 6 of 6: a face of its own
    with BuildSketch(Plane(origin=(0, 0, 0), x_dir=(-1, 0, 0), z_dir=(0, 1, 0))):
        with Locations((-38.75, 51.5)):
            Circle(MIRROR1_AT_THE_SECOND_PLANE_COPY_1_SKETC_R)
    extrude(amount=MIRROR1_AT_THE_SECOND_PLANE_COPY_1_DEPTH)

    # Mirror1 at the second plane copy 2 sketc → Mirror1 at the second plane copy 2 (cut)
    with BuildSketch(Plane(origin=(0, 0, 0), x_dir=(-1, 0, 0), z_dir=(0, 1, 0))):
        with Locations(Location((-115.25, 0, 0), (0, 0, 270))):
            Circle(MIRROR1_AT_THE_SECOND_PLANE_COPY_2_SKETC_R)
        with Locations(Location((-115.25, 51.5, 0), (0, 0, 270))):
            Circle(MIRROR1_AT_THE_SECOND_PLANE_COPY_2_SKETC_R)
        with Locations(Location((-38.75, 51.5, 0), (0, 0, 270))):
            Circle(MIRROR1_AT_THE_SECOND_PLANE_COPY_2_SKETC_R)
    extrude(amount=MIRROR1_AT_THE_SECOND_PLANE_COPY_2_DEPTH, mode=Mode.SUBTRACT)


solid = part.part
